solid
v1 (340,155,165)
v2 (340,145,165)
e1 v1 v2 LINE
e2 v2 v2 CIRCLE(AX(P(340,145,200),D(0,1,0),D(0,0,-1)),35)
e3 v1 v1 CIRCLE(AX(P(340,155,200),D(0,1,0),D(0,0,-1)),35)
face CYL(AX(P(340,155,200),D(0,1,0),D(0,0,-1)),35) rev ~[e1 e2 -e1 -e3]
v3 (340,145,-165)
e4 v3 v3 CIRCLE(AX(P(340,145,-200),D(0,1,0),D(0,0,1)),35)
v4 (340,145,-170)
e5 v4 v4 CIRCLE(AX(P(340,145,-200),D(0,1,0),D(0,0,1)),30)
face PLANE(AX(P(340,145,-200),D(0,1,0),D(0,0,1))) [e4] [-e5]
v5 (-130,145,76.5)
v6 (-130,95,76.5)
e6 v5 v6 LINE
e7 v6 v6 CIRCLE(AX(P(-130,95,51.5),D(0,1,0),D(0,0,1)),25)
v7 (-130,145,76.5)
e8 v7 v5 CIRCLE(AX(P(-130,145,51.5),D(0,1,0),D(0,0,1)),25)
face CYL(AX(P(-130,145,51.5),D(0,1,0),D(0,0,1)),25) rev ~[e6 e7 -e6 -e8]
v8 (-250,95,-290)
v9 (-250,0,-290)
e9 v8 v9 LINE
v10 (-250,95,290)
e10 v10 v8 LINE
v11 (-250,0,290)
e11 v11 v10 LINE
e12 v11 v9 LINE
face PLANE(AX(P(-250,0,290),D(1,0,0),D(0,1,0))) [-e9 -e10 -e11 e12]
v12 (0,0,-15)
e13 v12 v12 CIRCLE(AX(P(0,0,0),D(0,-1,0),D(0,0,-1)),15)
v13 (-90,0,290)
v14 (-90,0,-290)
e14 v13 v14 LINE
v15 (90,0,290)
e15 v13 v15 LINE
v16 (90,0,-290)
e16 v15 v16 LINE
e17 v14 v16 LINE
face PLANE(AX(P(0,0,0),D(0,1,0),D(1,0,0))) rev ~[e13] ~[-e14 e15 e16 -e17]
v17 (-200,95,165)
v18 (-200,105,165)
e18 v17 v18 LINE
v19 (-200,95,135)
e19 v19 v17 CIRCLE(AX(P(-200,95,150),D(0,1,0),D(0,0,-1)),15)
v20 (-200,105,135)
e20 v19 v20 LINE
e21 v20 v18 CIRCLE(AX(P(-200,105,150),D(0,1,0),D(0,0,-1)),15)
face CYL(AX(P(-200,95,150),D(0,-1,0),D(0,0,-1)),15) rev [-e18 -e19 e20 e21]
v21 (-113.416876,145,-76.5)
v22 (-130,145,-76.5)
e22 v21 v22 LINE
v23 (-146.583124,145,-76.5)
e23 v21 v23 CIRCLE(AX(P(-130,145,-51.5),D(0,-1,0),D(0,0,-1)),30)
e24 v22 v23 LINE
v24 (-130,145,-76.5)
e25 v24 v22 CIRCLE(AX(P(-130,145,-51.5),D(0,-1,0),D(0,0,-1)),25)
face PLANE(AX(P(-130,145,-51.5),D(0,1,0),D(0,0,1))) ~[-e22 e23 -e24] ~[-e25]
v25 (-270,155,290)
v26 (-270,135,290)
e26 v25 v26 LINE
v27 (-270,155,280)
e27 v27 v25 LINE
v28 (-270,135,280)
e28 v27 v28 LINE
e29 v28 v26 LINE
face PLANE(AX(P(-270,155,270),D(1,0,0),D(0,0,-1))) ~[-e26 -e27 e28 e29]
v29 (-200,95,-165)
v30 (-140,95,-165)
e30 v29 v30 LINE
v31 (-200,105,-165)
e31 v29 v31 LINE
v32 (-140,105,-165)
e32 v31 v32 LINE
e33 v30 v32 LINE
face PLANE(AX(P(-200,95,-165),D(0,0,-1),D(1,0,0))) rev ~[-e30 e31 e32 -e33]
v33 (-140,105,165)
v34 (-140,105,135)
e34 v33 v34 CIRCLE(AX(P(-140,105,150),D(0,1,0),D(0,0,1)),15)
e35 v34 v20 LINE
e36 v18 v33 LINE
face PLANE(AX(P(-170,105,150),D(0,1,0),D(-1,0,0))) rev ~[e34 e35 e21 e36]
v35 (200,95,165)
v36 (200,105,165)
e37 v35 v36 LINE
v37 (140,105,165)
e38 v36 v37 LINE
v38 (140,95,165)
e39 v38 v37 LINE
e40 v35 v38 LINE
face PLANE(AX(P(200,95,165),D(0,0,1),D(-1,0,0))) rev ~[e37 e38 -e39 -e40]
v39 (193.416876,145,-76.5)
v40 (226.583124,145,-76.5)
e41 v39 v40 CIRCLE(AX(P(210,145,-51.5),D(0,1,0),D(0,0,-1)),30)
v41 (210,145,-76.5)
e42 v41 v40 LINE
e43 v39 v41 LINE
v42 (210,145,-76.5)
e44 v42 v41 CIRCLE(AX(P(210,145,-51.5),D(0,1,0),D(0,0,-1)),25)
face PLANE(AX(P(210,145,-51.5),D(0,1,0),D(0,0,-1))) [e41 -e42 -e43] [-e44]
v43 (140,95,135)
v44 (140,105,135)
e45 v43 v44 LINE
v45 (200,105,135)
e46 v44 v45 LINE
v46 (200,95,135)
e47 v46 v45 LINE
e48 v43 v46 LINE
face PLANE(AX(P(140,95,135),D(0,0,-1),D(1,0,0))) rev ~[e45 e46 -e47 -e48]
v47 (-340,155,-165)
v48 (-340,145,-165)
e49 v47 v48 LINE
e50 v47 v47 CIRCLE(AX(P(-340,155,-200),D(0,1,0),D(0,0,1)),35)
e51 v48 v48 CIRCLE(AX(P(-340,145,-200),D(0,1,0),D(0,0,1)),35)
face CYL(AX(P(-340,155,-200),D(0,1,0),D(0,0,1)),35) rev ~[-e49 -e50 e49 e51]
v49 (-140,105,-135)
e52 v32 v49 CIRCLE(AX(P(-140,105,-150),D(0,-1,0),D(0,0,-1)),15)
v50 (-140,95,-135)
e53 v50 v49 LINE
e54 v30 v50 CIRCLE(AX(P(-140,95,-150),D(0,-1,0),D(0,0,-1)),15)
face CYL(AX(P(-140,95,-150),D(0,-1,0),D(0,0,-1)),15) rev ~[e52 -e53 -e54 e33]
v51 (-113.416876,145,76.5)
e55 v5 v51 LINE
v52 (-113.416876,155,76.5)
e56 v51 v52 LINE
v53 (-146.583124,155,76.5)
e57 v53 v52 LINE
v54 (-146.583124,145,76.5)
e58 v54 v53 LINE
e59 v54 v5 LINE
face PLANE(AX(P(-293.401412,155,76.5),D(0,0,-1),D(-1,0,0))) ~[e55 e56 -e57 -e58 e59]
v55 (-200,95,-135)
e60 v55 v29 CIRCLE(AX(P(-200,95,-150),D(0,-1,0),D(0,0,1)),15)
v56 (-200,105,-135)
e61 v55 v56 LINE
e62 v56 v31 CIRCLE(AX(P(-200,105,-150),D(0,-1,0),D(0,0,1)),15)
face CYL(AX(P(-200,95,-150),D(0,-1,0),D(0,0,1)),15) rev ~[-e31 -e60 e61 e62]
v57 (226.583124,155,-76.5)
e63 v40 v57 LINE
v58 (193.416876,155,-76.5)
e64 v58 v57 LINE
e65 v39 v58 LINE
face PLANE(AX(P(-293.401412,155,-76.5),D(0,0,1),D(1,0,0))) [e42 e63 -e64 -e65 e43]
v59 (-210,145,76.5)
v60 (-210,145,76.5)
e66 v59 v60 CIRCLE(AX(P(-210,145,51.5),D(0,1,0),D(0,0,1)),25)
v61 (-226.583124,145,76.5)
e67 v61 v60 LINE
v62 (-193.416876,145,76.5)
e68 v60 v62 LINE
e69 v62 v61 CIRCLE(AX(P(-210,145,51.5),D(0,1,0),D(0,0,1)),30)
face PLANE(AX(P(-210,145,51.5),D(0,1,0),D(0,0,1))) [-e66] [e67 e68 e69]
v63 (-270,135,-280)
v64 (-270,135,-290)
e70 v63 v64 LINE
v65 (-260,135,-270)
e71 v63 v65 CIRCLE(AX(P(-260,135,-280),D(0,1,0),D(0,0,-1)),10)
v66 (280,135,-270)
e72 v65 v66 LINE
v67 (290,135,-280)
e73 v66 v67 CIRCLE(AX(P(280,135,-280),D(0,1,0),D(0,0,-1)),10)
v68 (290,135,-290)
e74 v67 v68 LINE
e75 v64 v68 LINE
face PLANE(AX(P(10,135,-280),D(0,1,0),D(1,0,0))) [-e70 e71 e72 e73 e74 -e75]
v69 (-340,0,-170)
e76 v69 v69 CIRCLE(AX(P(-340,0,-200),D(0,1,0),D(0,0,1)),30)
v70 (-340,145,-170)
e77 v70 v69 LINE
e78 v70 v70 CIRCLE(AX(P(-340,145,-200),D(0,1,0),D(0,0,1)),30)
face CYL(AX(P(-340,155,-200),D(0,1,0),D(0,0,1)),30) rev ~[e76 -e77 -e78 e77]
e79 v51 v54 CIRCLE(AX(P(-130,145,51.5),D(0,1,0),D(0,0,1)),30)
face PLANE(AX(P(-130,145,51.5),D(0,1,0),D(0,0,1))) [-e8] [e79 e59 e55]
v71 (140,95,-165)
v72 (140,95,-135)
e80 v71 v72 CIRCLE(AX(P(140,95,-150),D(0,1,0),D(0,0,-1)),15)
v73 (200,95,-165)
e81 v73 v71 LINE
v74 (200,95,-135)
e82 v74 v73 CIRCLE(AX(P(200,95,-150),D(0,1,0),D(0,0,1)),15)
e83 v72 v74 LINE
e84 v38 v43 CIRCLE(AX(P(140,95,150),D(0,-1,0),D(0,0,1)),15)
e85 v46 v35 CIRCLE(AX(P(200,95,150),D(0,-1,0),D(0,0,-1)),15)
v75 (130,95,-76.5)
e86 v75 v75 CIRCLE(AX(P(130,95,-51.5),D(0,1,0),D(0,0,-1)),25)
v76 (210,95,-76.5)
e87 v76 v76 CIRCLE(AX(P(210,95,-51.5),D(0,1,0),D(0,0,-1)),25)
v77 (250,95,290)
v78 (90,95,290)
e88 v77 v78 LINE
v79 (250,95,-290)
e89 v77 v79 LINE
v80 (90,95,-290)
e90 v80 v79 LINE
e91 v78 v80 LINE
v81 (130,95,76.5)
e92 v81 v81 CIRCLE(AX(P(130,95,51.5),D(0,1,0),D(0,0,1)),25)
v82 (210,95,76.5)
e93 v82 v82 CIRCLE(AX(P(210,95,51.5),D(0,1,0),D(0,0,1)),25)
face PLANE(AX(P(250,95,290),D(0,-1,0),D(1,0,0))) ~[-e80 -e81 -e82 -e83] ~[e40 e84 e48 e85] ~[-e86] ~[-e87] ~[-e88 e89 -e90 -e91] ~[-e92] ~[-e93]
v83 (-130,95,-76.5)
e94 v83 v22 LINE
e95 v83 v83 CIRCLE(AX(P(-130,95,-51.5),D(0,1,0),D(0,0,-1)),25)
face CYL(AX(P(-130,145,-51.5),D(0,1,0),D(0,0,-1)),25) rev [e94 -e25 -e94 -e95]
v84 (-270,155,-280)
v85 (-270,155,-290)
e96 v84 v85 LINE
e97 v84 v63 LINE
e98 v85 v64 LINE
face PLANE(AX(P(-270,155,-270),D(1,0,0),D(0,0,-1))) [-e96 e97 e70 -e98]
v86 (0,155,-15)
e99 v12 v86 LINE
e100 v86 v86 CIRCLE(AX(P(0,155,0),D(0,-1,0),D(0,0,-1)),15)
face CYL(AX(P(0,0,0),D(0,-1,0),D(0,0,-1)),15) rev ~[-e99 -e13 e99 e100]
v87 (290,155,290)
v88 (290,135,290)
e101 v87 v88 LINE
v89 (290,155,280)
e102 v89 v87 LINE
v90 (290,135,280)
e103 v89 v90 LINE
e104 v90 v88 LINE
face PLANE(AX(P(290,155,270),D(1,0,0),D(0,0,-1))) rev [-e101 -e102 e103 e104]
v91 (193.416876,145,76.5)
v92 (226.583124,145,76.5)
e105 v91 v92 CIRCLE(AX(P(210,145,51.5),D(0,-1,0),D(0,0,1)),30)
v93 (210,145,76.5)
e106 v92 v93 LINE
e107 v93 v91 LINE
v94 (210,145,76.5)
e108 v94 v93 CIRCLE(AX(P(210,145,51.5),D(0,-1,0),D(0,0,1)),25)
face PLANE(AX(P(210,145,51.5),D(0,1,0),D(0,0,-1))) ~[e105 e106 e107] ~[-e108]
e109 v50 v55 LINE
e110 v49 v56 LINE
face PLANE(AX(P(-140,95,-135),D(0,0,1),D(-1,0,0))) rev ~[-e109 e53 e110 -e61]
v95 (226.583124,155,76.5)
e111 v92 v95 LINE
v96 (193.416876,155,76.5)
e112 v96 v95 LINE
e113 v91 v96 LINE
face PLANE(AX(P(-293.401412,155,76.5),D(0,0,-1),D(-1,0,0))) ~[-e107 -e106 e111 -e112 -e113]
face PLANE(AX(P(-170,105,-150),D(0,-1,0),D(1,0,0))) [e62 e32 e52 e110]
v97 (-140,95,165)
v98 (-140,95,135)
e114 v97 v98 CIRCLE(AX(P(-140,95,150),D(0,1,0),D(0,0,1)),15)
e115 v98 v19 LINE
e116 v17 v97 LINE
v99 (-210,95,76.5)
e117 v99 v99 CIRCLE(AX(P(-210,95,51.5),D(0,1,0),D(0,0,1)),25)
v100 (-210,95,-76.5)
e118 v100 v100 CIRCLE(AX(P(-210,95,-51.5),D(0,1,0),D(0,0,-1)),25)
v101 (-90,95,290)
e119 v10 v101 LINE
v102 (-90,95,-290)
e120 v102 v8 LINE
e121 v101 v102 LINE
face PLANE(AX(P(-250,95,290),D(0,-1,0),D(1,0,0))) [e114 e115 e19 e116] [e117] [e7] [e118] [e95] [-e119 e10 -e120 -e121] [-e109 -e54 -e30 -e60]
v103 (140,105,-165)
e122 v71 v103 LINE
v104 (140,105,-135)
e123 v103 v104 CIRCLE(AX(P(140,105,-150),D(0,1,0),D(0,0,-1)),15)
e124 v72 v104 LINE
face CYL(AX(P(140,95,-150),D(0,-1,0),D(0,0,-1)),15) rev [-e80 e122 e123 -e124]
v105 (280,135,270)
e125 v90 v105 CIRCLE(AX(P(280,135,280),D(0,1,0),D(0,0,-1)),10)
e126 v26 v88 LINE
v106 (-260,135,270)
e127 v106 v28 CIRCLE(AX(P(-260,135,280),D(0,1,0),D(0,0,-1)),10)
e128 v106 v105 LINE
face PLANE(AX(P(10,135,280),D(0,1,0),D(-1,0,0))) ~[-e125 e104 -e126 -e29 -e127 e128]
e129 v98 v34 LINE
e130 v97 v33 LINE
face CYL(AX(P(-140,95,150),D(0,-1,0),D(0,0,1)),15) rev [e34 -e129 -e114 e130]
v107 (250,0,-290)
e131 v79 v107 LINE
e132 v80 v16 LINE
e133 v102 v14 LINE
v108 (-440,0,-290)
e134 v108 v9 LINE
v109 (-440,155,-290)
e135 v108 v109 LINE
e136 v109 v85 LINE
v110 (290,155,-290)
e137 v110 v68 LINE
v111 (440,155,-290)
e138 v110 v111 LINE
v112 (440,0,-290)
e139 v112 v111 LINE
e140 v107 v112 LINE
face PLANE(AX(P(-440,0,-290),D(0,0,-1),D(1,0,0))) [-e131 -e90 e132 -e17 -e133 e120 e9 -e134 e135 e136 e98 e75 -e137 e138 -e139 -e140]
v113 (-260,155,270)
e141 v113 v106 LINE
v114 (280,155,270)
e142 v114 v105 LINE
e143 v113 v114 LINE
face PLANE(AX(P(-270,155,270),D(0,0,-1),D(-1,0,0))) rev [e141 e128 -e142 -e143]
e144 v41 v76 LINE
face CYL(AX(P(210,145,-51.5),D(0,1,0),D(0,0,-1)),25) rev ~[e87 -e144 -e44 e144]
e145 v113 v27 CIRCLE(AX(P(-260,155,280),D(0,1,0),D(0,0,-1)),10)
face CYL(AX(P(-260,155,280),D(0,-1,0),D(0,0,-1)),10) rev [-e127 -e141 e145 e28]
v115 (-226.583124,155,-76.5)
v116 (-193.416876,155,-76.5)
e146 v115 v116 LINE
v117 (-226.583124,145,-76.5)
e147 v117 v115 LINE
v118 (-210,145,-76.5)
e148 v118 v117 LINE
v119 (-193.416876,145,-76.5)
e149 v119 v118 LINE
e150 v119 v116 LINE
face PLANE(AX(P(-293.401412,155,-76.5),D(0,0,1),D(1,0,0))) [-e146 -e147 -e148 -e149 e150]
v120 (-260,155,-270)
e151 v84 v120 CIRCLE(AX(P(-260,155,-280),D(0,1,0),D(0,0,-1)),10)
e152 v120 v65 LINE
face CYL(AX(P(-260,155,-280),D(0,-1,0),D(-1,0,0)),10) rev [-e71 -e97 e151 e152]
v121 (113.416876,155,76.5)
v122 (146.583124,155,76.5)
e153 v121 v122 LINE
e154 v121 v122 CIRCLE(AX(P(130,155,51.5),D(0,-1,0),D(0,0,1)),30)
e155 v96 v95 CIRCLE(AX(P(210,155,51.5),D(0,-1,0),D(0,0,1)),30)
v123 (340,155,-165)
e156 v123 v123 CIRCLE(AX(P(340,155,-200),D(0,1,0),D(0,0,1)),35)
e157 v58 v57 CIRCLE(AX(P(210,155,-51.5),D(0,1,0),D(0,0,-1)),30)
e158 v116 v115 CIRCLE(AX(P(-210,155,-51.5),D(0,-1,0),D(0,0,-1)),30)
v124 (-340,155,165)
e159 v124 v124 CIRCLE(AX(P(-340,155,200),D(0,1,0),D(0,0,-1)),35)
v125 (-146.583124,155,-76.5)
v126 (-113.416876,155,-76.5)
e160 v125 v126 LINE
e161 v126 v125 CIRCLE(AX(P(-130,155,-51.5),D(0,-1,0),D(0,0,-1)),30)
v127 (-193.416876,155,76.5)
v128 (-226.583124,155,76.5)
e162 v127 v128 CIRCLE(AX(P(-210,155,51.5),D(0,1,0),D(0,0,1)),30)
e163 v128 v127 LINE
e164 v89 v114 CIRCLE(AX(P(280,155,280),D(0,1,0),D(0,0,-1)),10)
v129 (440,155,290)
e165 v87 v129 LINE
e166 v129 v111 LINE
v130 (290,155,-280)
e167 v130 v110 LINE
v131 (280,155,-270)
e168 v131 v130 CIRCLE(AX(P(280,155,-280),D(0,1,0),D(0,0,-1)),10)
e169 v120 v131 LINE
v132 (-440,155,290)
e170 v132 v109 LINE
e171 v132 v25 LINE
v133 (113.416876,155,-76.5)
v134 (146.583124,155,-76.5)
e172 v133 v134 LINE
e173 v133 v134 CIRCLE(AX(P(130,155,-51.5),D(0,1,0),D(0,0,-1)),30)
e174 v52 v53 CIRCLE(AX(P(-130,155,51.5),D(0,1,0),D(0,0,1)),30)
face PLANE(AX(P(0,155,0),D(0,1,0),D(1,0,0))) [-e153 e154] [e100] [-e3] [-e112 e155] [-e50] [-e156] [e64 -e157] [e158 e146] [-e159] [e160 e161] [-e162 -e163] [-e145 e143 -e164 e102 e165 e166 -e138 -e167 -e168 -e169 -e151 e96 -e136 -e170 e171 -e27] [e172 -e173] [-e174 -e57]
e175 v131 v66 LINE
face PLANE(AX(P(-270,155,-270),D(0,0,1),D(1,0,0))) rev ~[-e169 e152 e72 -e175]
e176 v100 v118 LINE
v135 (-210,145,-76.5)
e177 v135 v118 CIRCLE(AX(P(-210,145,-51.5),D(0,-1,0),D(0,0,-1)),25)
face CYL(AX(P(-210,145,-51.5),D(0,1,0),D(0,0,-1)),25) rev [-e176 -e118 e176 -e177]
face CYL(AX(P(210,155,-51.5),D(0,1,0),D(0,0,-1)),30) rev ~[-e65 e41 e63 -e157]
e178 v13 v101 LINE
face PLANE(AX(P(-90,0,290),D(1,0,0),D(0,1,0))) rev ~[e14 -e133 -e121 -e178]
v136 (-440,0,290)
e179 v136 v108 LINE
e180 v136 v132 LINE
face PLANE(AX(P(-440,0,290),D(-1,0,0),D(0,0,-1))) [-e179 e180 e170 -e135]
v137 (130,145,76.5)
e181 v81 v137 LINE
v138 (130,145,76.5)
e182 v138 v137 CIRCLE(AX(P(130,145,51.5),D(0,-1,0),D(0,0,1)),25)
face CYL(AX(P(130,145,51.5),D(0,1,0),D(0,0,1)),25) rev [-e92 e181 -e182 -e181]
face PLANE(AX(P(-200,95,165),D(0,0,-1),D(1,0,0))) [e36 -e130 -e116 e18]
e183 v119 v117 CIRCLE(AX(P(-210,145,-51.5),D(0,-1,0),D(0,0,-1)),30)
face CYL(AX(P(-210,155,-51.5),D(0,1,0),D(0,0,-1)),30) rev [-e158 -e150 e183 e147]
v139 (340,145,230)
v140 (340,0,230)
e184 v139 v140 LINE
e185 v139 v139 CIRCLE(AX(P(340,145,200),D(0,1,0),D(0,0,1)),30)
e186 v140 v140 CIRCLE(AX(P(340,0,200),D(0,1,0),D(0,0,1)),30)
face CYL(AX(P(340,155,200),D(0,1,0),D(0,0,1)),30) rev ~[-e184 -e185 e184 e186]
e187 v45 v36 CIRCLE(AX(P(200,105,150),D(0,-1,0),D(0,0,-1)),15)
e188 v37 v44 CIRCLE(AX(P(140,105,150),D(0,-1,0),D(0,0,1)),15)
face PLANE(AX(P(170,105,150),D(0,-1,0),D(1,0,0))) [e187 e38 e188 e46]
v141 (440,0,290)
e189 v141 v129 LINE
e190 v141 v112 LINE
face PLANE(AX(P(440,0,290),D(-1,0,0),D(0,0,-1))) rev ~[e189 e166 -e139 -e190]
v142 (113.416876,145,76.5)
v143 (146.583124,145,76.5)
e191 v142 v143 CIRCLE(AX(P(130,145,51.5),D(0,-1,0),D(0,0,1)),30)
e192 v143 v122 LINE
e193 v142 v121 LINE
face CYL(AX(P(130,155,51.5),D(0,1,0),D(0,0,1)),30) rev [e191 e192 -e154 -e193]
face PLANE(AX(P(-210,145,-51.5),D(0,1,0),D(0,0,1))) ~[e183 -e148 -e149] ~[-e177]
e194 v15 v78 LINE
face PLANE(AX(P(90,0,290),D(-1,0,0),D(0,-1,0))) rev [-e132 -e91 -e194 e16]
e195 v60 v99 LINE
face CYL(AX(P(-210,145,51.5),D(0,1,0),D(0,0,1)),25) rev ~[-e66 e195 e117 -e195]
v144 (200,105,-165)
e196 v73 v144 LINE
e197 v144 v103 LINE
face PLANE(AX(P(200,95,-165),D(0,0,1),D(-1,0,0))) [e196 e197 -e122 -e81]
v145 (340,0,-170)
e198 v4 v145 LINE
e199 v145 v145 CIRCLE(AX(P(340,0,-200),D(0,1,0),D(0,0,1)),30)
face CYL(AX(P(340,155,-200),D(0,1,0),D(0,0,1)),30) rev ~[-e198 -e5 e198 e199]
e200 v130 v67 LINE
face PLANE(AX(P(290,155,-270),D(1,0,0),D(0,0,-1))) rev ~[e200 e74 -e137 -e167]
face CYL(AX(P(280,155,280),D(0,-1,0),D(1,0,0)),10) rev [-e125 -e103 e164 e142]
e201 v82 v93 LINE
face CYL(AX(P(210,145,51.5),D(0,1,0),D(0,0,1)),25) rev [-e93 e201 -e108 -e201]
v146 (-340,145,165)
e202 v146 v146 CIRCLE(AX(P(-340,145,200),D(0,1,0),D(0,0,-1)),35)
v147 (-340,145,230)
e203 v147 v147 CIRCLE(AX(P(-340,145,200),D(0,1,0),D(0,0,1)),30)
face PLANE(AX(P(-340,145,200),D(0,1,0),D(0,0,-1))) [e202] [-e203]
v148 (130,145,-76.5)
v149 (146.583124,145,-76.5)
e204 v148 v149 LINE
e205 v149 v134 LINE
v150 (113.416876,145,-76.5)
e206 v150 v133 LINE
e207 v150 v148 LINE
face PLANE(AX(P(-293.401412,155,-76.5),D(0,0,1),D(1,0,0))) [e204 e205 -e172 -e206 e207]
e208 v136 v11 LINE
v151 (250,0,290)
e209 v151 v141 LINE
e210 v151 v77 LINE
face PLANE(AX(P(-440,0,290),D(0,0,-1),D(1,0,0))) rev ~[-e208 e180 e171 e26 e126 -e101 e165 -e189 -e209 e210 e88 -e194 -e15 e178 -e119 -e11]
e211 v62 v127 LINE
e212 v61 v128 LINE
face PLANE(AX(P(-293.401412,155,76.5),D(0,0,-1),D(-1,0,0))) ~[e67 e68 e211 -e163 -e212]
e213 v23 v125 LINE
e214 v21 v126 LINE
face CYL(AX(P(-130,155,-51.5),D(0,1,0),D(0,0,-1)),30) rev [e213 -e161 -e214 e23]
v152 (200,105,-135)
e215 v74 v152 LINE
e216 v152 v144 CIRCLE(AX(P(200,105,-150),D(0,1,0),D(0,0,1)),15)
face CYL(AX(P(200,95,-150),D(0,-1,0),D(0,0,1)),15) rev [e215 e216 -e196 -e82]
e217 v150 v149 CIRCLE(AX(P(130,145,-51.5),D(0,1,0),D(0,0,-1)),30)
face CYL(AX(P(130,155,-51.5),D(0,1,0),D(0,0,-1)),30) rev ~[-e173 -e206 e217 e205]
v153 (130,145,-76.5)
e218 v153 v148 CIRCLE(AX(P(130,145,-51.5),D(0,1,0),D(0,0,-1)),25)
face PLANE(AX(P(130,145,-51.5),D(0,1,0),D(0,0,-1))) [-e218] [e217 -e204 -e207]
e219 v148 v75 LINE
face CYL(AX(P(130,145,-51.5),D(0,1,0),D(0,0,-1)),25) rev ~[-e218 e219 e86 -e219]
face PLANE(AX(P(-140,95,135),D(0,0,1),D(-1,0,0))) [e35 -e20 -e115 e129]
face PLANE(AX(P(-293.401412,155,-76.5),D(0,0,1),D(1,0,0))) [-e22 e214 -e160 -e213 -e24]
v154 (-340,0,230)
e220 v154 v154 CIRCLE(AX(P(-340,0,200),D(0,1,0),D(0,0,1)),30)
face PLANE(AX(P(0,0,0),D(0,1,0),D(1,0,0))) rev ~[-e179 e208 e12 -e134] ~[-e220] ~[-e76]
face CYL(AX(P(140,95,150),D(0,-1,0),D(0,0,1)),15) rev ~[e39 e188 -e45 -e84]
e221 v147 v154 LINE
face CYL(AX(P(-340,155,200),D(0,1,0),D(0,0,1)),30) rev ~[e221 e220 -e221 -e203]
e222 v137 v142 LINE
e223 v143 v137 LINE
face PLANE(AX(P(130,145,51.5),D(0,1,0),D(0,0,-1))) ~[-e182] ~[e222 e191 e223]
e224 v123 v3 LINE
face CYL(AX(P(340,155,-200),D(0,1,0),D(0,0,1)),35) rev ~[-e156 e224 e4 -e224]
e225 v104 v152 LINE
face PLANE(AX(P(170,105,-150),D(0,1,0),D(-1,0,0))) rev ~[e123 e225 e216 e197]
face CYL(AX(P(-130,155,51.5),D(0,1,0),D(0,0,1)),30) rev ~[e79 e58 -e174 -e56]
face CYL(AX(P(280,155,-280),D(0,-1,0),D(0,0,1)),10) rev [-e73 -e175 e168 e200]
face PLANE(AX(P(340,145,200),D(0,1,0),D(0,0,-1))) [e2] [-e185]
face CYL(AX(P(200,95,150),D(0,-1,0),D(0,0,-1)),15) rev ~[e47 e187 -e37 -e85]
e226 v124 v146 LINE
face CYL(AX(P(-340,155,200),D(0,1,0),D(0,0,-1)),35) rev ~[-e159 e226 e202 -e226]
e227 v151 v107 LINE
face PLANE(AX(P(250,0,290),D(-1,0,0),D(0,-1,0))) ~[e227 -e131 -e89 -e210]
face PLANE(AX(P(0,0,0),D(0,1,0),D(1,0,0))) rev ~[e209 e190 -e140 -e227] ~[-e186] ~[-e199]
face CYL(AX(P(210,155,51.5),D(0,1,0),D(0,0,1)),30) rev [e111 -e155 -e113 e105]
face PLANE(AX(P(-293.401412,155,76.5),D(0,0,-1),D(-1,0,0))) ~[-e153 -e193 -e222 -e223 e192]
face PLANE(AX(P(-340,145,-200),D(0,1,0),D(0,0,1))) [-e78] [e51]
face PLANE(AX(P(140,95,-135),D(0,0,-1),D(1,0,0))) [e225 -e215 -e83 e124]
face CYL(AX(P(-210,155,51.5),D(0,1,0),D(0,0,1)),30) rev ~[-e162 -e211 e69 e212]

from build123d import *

# Parameters (mm, degrees)
SKETCH1_W               = 880
SKETCH1_H               = 580
BOSS_EXTRUDE1_DEPTH     = 155
SKETCH2_W               = 160
SKETCH2_H               = 95
CUT_EXTRUDE1_DEPTH      = 705
SKETCH3_R               = 30
CUT_EXTRUDE2_DEPTH      = 10
SKETCH4_R               = 25
CUT_EXTRUDE3_DEPTH      = 60
MIRROR3_COPY_1_SKETCH_R = 30
MIRROR3_COPY_1_DEPTH    = 10
MIRROR3_COPY_2_SKETCH_R = 25
MIRROR3_COPY_2_DEPTH    = 60
SKETCH5_W               = 578.085734934
SKETCH5_H               = 25.310233579
BOSS_EXTRUDE2_DEPTH     = 18
CUT_EXTRUDE5_DEPTH      = 10
SKETCH7_R               = 15
CUT_EXTRUDE6_DEPTH      = 440
SKETCH8_R               = 35
CUT_EXTRUDE7_DEPTH      = 10
SKETCH9_R               = 30
CUT_EXTRUDE8_DEPTH      = 413
SKETCH10_W              = 560
SKETCH10_H              = 20
CUT_EXTRUDE9_DEPTH      = 20
FILLET1_R               = 10
FILLET1_OF_MIRROR5_R    = 10


with BuildPart() as part:
    # Sketch1 → Boss-Extrude1 (new body)
    with BuildSketch(Plane(origin=(0, 0, 0), x_dir=(1, 0, 0), z_dir=(0, 1, 0))):
        Rectangle(SKETCH1_W, SKETCH1_H)
    extrude(amount=BOSS_EXTRUDE1_DEPTH)

    # Sketch2 → Cut-Extrude1 (cut)
    with BuildSketch(Plane.XY.offset(290)):
        with Locations((-170, 47.5)):
            Rectangle(SKETCH2_W, SKETCH2_H)
    cut_extrude1 = extrude(amount=-CUT_EXTRUDE1_DEPTH, mode=Mode.SUBTRACT)

    # Mirror1: Cut-Extrude1 across plane
    add(cut_extrude1.mirror(Plane(origin=(0, 0, 0), x_dir=(0, 0, 1), z_dir=(1, 0, 0))), mode=Mode.SUBTRACT)

    # Sketch3 → Cut-Extrude2 (cut)
    with BuildSketch(Plane(origin=(0, 155, 0), x_dir=(1, 0, 0), z_dir=(0, 1, 0))):
        with Locations(Location((-210, -51.5, 0), (0, 0, 270))):
            Circle(SKETCH3_R)
        with Locations(Location((-130, -51.5, 0), (0, 0, 270))):
            Circle(SKETCH3_R)
    cut_extrude2 = extrude(amount=-CUT_EXTRUDE2_DEPTH, mode=Mode.SUBTRACT)

    # Sketch4 → Cut-Extrude3 (cut)
    with BuildSketch(Plane(origin=(0, 145, 0), x_dir=(1, 0, 0), z_dir=(0, 1, 0))):
        with Locations(Location((-210, -51.5, 0), (0, 0, 270))):
            Circle(SKETCH4_R)
        with Locations(Location((-130, -51.5, 0), (0, 0, 270))):
            Circle(SKETCH4_R)
    cut_extrude3 = extrude(amount=-CUT_EXTRUDE3_DEPTH, mode=Mode.SUBTRACT)

    # Mirror2: Cut-Extrude2, Cut-Extrude3 across plane
    add(cut_extrude2.mirror(Plane(origin=(0, 0, 0), x_dir=(0, 0, 1), z_dir=(1, 0, 0))), mode=Mode.SUBTRACT)
    add(cut_extrude3.mirror(Plane(origin=(0, 0, 0), x_dir=(0, 0, 1), z_dir=(1, 0, 0))), mode=Mode.SUBTRACT)

    # Mirror3: Cut-Extrude2, Cut-Extrude3 across plane
    add(cut_extrude2.mirror(Plane.XY), mode=Mode.SUBTRACT)
    add(cut_extrude3.mirror(Plane.XY), mode=Mode.SUBTRACT)

    # Mirror3 copy 1 sketch → Mirror3 copy 1 (cut)
    with BuildSketch(Plane(origin=(0, 155, 0), x_dir=(-1, 0, 0), z_dir=(0, 1, 0))):
        with Locations(Location((-210, -51.5, 0), (0, 0, 270))):
            Circle(MIRROR3_COPY_1_SKETCH_R)
        with Locations(Location((-130, -51.5, 0), (0, 0, 270))):
            Circle(MIRROR3_COPY_1_SKETCH_R)
    extrude(amount=-MIRROR3_COPY_1_DEPTH, mode=Mode.SUBTRACT)

    # Mirror3 copy 2 sketch → Mirror3 copy 2 (cut)
    with BuildSketch(Plane(origin=(0, 145, 0), x_dir=(-1, 0, 0), z_dir=(0, 1, 0))):
        with Locations(Location((-210, -51.5, 0), (0, 0, 270))):
            Circle(MIRROR3_COPY_2_SKETCH_R)
        with Locations(Location((-130, -51.5, 0), (0, 0, 270))):
            Circle(MIRROR3_COPY_2_SKETCH_R)
    extrude(amount=-MIRROR3_COPY_2_DEPTH, mode=Mode.SUBTRACT)

    # Sketch5 → Boss-Extrude2 (add)
    with BuildSketch(Plane(origin=(0, 155, 0), x_dir=(1, 0, 0), z_dir=(0, 1, 0))):
        with Locations((-4.358544199, 89.155116789)):
            Rectangle(SKETCH5_W, SKETCH5_H)
    boss_extrude2 = extrude(amount=-BOSS_EXTRUDE2_DEPTH)

    # Mirror4: Boss-Extrude2 across plane
    add(boss_extrude2.mirror(Plane.XY))

    # Sketch6 → Cut-Extrude5 (cut)
    with BuildSketch(Plane.XZ.offset(-95)):
        with BuildLine():
            Line((-200, 165), (-140, 165))
            ThreePointArc((-140, 165), (-125, 150), (-140, 135))
            Line((-140, 135), (-200, 135))
            ThreePointArc((-200, 135), (-215, 150), (-200, 165))
        make_face()
        with BuildLine():
            Line((200, 165), (140, 165))
            ThreePointArc((140, 165), (125, 150), (140, 135))
            Line((140, 135), (200, 135))
            ThreePointArc((200, 135), (215, 150), (200, 165))
        make_face()
        with BuildLine():
            Line((200, -165), (140, -165))
            ThreePointArc((140, -165), (125, -150), (140, -135))
            Line((140, -135), (200, -135))
            ThreePointArc((200, -135), (215, -150), (200, -165))
        make_face()
        with BuildLine():
            Line((-200, -165), (-140, -165))
            ThreePointArc((-140, -165), (-125, -150), (-140, -135))
            Line((-140, -135), (-200, -135))
            ThreePointArc((-200, -135), (-215, -150), (-200, -165))
        make_face()
    extrude(amount=-CUT_EXTRUDE5_DEPTH, mode=Mode.SUBTRACT)

    # Sketch7 → Cut-Extrude6 (cut)
    with BuildSketch(Plane.XZ):
        with Locations(Location((0, 0, 0), (0, 0, 270))):
            Circle(SKETCH7_R)
    extrude(amount=-CUT_EXTRUDE6_DEPTH, mode=Mode.SUBTRACT)

    # Sketch8 → Cut-Extrude7 (cut)
    with BuildSketch(Plane(origin=(0, 155, 0), x_dir=(1, 0, 0), z_dir=(0, 1, 0))):
        with Locations(Location((-340, 200, 0), (0, 0, 270))):
            Circle(SKETCH8_R)
        with Locations(Location((340, 200, 0), (0, 0, 270))):
            Circle(SKETCH8_R)
        with Locations(Location((340, -200, 0), (0, 0, 90))):
            Circle(SKETCH8_R)
        with Locations(Location((-340, -200, 0), (0, 0, 90))):
            Circle(SKETCH8_R)
    extrude(amount=-CUT_EXTRUDE7_DEPTH, mode=Mode.SUBTRACT)

    # Sketch9 → Cut-Extrude8 (cut)
    with BuildSketch(Plane(origin=(0, 155, 0), x_dir=(1, 0, 0), z_dir=(0, 1, 0))):
        with Locations(Location((-340, 200, 0), (0, 0, 270))):
            Circle(SKETCH9_R)
        with Locations(Location((340, 200, 0), (0, 0, 270))):
            Circle(SKETCH9_R)
        with Locations(Location((340, -200, 0), (0, 0, 270))):
            Circle(SKETCH9_R)
        with Locations(Location((-340, -200, 0), (0, 0, 270))):
            Circle(SKETCH9_R)
    extrude(amount=-CUT_EXTRUDE8_DEPTH, mode=Mode.SUBTRACT)

    # Sketch10 → Cut-Extrude9 (cut)
    with BuildSketch(Plane(origin=(0, 155, 0), x_dir=(1, 0, 0), z_dir=(0, 1, 0))):
        with Locations((10, 280)):
            Rectangle(SKETCH10_W, SKETCH10_H)
    cut_extrude9 = extrude(amount=-CUT_EXTRUDE9_DEPTH, mode=Mode.SUBTRACT)

    # Fillet1
    fillet1_edges = [part.edges().sort_by_distance(p)[0] for p in [
        (-270, 145, -270),
        (290, 145, -270),
    ]]
    fillet(fillet1_edges, radius=FILLET1_R)

    # Mirror5: Cut-Extrude9 across plane
    add(cut_extrude9.mirror(Plane.XY), mode=Mode.SUBTRACT)

    # Fillet1 of Mirror5
    fillet1_of_mirror5_edges = [part.edges().sort_by_distance(p)[0] for p in [
        (-270, 145, 270),
        (290, 145, 270),
    ]]
    fillet(fillet1_of_mirror5_edges, radius=FILLET1_OF_MIRROR5_R)


solid = part.part
